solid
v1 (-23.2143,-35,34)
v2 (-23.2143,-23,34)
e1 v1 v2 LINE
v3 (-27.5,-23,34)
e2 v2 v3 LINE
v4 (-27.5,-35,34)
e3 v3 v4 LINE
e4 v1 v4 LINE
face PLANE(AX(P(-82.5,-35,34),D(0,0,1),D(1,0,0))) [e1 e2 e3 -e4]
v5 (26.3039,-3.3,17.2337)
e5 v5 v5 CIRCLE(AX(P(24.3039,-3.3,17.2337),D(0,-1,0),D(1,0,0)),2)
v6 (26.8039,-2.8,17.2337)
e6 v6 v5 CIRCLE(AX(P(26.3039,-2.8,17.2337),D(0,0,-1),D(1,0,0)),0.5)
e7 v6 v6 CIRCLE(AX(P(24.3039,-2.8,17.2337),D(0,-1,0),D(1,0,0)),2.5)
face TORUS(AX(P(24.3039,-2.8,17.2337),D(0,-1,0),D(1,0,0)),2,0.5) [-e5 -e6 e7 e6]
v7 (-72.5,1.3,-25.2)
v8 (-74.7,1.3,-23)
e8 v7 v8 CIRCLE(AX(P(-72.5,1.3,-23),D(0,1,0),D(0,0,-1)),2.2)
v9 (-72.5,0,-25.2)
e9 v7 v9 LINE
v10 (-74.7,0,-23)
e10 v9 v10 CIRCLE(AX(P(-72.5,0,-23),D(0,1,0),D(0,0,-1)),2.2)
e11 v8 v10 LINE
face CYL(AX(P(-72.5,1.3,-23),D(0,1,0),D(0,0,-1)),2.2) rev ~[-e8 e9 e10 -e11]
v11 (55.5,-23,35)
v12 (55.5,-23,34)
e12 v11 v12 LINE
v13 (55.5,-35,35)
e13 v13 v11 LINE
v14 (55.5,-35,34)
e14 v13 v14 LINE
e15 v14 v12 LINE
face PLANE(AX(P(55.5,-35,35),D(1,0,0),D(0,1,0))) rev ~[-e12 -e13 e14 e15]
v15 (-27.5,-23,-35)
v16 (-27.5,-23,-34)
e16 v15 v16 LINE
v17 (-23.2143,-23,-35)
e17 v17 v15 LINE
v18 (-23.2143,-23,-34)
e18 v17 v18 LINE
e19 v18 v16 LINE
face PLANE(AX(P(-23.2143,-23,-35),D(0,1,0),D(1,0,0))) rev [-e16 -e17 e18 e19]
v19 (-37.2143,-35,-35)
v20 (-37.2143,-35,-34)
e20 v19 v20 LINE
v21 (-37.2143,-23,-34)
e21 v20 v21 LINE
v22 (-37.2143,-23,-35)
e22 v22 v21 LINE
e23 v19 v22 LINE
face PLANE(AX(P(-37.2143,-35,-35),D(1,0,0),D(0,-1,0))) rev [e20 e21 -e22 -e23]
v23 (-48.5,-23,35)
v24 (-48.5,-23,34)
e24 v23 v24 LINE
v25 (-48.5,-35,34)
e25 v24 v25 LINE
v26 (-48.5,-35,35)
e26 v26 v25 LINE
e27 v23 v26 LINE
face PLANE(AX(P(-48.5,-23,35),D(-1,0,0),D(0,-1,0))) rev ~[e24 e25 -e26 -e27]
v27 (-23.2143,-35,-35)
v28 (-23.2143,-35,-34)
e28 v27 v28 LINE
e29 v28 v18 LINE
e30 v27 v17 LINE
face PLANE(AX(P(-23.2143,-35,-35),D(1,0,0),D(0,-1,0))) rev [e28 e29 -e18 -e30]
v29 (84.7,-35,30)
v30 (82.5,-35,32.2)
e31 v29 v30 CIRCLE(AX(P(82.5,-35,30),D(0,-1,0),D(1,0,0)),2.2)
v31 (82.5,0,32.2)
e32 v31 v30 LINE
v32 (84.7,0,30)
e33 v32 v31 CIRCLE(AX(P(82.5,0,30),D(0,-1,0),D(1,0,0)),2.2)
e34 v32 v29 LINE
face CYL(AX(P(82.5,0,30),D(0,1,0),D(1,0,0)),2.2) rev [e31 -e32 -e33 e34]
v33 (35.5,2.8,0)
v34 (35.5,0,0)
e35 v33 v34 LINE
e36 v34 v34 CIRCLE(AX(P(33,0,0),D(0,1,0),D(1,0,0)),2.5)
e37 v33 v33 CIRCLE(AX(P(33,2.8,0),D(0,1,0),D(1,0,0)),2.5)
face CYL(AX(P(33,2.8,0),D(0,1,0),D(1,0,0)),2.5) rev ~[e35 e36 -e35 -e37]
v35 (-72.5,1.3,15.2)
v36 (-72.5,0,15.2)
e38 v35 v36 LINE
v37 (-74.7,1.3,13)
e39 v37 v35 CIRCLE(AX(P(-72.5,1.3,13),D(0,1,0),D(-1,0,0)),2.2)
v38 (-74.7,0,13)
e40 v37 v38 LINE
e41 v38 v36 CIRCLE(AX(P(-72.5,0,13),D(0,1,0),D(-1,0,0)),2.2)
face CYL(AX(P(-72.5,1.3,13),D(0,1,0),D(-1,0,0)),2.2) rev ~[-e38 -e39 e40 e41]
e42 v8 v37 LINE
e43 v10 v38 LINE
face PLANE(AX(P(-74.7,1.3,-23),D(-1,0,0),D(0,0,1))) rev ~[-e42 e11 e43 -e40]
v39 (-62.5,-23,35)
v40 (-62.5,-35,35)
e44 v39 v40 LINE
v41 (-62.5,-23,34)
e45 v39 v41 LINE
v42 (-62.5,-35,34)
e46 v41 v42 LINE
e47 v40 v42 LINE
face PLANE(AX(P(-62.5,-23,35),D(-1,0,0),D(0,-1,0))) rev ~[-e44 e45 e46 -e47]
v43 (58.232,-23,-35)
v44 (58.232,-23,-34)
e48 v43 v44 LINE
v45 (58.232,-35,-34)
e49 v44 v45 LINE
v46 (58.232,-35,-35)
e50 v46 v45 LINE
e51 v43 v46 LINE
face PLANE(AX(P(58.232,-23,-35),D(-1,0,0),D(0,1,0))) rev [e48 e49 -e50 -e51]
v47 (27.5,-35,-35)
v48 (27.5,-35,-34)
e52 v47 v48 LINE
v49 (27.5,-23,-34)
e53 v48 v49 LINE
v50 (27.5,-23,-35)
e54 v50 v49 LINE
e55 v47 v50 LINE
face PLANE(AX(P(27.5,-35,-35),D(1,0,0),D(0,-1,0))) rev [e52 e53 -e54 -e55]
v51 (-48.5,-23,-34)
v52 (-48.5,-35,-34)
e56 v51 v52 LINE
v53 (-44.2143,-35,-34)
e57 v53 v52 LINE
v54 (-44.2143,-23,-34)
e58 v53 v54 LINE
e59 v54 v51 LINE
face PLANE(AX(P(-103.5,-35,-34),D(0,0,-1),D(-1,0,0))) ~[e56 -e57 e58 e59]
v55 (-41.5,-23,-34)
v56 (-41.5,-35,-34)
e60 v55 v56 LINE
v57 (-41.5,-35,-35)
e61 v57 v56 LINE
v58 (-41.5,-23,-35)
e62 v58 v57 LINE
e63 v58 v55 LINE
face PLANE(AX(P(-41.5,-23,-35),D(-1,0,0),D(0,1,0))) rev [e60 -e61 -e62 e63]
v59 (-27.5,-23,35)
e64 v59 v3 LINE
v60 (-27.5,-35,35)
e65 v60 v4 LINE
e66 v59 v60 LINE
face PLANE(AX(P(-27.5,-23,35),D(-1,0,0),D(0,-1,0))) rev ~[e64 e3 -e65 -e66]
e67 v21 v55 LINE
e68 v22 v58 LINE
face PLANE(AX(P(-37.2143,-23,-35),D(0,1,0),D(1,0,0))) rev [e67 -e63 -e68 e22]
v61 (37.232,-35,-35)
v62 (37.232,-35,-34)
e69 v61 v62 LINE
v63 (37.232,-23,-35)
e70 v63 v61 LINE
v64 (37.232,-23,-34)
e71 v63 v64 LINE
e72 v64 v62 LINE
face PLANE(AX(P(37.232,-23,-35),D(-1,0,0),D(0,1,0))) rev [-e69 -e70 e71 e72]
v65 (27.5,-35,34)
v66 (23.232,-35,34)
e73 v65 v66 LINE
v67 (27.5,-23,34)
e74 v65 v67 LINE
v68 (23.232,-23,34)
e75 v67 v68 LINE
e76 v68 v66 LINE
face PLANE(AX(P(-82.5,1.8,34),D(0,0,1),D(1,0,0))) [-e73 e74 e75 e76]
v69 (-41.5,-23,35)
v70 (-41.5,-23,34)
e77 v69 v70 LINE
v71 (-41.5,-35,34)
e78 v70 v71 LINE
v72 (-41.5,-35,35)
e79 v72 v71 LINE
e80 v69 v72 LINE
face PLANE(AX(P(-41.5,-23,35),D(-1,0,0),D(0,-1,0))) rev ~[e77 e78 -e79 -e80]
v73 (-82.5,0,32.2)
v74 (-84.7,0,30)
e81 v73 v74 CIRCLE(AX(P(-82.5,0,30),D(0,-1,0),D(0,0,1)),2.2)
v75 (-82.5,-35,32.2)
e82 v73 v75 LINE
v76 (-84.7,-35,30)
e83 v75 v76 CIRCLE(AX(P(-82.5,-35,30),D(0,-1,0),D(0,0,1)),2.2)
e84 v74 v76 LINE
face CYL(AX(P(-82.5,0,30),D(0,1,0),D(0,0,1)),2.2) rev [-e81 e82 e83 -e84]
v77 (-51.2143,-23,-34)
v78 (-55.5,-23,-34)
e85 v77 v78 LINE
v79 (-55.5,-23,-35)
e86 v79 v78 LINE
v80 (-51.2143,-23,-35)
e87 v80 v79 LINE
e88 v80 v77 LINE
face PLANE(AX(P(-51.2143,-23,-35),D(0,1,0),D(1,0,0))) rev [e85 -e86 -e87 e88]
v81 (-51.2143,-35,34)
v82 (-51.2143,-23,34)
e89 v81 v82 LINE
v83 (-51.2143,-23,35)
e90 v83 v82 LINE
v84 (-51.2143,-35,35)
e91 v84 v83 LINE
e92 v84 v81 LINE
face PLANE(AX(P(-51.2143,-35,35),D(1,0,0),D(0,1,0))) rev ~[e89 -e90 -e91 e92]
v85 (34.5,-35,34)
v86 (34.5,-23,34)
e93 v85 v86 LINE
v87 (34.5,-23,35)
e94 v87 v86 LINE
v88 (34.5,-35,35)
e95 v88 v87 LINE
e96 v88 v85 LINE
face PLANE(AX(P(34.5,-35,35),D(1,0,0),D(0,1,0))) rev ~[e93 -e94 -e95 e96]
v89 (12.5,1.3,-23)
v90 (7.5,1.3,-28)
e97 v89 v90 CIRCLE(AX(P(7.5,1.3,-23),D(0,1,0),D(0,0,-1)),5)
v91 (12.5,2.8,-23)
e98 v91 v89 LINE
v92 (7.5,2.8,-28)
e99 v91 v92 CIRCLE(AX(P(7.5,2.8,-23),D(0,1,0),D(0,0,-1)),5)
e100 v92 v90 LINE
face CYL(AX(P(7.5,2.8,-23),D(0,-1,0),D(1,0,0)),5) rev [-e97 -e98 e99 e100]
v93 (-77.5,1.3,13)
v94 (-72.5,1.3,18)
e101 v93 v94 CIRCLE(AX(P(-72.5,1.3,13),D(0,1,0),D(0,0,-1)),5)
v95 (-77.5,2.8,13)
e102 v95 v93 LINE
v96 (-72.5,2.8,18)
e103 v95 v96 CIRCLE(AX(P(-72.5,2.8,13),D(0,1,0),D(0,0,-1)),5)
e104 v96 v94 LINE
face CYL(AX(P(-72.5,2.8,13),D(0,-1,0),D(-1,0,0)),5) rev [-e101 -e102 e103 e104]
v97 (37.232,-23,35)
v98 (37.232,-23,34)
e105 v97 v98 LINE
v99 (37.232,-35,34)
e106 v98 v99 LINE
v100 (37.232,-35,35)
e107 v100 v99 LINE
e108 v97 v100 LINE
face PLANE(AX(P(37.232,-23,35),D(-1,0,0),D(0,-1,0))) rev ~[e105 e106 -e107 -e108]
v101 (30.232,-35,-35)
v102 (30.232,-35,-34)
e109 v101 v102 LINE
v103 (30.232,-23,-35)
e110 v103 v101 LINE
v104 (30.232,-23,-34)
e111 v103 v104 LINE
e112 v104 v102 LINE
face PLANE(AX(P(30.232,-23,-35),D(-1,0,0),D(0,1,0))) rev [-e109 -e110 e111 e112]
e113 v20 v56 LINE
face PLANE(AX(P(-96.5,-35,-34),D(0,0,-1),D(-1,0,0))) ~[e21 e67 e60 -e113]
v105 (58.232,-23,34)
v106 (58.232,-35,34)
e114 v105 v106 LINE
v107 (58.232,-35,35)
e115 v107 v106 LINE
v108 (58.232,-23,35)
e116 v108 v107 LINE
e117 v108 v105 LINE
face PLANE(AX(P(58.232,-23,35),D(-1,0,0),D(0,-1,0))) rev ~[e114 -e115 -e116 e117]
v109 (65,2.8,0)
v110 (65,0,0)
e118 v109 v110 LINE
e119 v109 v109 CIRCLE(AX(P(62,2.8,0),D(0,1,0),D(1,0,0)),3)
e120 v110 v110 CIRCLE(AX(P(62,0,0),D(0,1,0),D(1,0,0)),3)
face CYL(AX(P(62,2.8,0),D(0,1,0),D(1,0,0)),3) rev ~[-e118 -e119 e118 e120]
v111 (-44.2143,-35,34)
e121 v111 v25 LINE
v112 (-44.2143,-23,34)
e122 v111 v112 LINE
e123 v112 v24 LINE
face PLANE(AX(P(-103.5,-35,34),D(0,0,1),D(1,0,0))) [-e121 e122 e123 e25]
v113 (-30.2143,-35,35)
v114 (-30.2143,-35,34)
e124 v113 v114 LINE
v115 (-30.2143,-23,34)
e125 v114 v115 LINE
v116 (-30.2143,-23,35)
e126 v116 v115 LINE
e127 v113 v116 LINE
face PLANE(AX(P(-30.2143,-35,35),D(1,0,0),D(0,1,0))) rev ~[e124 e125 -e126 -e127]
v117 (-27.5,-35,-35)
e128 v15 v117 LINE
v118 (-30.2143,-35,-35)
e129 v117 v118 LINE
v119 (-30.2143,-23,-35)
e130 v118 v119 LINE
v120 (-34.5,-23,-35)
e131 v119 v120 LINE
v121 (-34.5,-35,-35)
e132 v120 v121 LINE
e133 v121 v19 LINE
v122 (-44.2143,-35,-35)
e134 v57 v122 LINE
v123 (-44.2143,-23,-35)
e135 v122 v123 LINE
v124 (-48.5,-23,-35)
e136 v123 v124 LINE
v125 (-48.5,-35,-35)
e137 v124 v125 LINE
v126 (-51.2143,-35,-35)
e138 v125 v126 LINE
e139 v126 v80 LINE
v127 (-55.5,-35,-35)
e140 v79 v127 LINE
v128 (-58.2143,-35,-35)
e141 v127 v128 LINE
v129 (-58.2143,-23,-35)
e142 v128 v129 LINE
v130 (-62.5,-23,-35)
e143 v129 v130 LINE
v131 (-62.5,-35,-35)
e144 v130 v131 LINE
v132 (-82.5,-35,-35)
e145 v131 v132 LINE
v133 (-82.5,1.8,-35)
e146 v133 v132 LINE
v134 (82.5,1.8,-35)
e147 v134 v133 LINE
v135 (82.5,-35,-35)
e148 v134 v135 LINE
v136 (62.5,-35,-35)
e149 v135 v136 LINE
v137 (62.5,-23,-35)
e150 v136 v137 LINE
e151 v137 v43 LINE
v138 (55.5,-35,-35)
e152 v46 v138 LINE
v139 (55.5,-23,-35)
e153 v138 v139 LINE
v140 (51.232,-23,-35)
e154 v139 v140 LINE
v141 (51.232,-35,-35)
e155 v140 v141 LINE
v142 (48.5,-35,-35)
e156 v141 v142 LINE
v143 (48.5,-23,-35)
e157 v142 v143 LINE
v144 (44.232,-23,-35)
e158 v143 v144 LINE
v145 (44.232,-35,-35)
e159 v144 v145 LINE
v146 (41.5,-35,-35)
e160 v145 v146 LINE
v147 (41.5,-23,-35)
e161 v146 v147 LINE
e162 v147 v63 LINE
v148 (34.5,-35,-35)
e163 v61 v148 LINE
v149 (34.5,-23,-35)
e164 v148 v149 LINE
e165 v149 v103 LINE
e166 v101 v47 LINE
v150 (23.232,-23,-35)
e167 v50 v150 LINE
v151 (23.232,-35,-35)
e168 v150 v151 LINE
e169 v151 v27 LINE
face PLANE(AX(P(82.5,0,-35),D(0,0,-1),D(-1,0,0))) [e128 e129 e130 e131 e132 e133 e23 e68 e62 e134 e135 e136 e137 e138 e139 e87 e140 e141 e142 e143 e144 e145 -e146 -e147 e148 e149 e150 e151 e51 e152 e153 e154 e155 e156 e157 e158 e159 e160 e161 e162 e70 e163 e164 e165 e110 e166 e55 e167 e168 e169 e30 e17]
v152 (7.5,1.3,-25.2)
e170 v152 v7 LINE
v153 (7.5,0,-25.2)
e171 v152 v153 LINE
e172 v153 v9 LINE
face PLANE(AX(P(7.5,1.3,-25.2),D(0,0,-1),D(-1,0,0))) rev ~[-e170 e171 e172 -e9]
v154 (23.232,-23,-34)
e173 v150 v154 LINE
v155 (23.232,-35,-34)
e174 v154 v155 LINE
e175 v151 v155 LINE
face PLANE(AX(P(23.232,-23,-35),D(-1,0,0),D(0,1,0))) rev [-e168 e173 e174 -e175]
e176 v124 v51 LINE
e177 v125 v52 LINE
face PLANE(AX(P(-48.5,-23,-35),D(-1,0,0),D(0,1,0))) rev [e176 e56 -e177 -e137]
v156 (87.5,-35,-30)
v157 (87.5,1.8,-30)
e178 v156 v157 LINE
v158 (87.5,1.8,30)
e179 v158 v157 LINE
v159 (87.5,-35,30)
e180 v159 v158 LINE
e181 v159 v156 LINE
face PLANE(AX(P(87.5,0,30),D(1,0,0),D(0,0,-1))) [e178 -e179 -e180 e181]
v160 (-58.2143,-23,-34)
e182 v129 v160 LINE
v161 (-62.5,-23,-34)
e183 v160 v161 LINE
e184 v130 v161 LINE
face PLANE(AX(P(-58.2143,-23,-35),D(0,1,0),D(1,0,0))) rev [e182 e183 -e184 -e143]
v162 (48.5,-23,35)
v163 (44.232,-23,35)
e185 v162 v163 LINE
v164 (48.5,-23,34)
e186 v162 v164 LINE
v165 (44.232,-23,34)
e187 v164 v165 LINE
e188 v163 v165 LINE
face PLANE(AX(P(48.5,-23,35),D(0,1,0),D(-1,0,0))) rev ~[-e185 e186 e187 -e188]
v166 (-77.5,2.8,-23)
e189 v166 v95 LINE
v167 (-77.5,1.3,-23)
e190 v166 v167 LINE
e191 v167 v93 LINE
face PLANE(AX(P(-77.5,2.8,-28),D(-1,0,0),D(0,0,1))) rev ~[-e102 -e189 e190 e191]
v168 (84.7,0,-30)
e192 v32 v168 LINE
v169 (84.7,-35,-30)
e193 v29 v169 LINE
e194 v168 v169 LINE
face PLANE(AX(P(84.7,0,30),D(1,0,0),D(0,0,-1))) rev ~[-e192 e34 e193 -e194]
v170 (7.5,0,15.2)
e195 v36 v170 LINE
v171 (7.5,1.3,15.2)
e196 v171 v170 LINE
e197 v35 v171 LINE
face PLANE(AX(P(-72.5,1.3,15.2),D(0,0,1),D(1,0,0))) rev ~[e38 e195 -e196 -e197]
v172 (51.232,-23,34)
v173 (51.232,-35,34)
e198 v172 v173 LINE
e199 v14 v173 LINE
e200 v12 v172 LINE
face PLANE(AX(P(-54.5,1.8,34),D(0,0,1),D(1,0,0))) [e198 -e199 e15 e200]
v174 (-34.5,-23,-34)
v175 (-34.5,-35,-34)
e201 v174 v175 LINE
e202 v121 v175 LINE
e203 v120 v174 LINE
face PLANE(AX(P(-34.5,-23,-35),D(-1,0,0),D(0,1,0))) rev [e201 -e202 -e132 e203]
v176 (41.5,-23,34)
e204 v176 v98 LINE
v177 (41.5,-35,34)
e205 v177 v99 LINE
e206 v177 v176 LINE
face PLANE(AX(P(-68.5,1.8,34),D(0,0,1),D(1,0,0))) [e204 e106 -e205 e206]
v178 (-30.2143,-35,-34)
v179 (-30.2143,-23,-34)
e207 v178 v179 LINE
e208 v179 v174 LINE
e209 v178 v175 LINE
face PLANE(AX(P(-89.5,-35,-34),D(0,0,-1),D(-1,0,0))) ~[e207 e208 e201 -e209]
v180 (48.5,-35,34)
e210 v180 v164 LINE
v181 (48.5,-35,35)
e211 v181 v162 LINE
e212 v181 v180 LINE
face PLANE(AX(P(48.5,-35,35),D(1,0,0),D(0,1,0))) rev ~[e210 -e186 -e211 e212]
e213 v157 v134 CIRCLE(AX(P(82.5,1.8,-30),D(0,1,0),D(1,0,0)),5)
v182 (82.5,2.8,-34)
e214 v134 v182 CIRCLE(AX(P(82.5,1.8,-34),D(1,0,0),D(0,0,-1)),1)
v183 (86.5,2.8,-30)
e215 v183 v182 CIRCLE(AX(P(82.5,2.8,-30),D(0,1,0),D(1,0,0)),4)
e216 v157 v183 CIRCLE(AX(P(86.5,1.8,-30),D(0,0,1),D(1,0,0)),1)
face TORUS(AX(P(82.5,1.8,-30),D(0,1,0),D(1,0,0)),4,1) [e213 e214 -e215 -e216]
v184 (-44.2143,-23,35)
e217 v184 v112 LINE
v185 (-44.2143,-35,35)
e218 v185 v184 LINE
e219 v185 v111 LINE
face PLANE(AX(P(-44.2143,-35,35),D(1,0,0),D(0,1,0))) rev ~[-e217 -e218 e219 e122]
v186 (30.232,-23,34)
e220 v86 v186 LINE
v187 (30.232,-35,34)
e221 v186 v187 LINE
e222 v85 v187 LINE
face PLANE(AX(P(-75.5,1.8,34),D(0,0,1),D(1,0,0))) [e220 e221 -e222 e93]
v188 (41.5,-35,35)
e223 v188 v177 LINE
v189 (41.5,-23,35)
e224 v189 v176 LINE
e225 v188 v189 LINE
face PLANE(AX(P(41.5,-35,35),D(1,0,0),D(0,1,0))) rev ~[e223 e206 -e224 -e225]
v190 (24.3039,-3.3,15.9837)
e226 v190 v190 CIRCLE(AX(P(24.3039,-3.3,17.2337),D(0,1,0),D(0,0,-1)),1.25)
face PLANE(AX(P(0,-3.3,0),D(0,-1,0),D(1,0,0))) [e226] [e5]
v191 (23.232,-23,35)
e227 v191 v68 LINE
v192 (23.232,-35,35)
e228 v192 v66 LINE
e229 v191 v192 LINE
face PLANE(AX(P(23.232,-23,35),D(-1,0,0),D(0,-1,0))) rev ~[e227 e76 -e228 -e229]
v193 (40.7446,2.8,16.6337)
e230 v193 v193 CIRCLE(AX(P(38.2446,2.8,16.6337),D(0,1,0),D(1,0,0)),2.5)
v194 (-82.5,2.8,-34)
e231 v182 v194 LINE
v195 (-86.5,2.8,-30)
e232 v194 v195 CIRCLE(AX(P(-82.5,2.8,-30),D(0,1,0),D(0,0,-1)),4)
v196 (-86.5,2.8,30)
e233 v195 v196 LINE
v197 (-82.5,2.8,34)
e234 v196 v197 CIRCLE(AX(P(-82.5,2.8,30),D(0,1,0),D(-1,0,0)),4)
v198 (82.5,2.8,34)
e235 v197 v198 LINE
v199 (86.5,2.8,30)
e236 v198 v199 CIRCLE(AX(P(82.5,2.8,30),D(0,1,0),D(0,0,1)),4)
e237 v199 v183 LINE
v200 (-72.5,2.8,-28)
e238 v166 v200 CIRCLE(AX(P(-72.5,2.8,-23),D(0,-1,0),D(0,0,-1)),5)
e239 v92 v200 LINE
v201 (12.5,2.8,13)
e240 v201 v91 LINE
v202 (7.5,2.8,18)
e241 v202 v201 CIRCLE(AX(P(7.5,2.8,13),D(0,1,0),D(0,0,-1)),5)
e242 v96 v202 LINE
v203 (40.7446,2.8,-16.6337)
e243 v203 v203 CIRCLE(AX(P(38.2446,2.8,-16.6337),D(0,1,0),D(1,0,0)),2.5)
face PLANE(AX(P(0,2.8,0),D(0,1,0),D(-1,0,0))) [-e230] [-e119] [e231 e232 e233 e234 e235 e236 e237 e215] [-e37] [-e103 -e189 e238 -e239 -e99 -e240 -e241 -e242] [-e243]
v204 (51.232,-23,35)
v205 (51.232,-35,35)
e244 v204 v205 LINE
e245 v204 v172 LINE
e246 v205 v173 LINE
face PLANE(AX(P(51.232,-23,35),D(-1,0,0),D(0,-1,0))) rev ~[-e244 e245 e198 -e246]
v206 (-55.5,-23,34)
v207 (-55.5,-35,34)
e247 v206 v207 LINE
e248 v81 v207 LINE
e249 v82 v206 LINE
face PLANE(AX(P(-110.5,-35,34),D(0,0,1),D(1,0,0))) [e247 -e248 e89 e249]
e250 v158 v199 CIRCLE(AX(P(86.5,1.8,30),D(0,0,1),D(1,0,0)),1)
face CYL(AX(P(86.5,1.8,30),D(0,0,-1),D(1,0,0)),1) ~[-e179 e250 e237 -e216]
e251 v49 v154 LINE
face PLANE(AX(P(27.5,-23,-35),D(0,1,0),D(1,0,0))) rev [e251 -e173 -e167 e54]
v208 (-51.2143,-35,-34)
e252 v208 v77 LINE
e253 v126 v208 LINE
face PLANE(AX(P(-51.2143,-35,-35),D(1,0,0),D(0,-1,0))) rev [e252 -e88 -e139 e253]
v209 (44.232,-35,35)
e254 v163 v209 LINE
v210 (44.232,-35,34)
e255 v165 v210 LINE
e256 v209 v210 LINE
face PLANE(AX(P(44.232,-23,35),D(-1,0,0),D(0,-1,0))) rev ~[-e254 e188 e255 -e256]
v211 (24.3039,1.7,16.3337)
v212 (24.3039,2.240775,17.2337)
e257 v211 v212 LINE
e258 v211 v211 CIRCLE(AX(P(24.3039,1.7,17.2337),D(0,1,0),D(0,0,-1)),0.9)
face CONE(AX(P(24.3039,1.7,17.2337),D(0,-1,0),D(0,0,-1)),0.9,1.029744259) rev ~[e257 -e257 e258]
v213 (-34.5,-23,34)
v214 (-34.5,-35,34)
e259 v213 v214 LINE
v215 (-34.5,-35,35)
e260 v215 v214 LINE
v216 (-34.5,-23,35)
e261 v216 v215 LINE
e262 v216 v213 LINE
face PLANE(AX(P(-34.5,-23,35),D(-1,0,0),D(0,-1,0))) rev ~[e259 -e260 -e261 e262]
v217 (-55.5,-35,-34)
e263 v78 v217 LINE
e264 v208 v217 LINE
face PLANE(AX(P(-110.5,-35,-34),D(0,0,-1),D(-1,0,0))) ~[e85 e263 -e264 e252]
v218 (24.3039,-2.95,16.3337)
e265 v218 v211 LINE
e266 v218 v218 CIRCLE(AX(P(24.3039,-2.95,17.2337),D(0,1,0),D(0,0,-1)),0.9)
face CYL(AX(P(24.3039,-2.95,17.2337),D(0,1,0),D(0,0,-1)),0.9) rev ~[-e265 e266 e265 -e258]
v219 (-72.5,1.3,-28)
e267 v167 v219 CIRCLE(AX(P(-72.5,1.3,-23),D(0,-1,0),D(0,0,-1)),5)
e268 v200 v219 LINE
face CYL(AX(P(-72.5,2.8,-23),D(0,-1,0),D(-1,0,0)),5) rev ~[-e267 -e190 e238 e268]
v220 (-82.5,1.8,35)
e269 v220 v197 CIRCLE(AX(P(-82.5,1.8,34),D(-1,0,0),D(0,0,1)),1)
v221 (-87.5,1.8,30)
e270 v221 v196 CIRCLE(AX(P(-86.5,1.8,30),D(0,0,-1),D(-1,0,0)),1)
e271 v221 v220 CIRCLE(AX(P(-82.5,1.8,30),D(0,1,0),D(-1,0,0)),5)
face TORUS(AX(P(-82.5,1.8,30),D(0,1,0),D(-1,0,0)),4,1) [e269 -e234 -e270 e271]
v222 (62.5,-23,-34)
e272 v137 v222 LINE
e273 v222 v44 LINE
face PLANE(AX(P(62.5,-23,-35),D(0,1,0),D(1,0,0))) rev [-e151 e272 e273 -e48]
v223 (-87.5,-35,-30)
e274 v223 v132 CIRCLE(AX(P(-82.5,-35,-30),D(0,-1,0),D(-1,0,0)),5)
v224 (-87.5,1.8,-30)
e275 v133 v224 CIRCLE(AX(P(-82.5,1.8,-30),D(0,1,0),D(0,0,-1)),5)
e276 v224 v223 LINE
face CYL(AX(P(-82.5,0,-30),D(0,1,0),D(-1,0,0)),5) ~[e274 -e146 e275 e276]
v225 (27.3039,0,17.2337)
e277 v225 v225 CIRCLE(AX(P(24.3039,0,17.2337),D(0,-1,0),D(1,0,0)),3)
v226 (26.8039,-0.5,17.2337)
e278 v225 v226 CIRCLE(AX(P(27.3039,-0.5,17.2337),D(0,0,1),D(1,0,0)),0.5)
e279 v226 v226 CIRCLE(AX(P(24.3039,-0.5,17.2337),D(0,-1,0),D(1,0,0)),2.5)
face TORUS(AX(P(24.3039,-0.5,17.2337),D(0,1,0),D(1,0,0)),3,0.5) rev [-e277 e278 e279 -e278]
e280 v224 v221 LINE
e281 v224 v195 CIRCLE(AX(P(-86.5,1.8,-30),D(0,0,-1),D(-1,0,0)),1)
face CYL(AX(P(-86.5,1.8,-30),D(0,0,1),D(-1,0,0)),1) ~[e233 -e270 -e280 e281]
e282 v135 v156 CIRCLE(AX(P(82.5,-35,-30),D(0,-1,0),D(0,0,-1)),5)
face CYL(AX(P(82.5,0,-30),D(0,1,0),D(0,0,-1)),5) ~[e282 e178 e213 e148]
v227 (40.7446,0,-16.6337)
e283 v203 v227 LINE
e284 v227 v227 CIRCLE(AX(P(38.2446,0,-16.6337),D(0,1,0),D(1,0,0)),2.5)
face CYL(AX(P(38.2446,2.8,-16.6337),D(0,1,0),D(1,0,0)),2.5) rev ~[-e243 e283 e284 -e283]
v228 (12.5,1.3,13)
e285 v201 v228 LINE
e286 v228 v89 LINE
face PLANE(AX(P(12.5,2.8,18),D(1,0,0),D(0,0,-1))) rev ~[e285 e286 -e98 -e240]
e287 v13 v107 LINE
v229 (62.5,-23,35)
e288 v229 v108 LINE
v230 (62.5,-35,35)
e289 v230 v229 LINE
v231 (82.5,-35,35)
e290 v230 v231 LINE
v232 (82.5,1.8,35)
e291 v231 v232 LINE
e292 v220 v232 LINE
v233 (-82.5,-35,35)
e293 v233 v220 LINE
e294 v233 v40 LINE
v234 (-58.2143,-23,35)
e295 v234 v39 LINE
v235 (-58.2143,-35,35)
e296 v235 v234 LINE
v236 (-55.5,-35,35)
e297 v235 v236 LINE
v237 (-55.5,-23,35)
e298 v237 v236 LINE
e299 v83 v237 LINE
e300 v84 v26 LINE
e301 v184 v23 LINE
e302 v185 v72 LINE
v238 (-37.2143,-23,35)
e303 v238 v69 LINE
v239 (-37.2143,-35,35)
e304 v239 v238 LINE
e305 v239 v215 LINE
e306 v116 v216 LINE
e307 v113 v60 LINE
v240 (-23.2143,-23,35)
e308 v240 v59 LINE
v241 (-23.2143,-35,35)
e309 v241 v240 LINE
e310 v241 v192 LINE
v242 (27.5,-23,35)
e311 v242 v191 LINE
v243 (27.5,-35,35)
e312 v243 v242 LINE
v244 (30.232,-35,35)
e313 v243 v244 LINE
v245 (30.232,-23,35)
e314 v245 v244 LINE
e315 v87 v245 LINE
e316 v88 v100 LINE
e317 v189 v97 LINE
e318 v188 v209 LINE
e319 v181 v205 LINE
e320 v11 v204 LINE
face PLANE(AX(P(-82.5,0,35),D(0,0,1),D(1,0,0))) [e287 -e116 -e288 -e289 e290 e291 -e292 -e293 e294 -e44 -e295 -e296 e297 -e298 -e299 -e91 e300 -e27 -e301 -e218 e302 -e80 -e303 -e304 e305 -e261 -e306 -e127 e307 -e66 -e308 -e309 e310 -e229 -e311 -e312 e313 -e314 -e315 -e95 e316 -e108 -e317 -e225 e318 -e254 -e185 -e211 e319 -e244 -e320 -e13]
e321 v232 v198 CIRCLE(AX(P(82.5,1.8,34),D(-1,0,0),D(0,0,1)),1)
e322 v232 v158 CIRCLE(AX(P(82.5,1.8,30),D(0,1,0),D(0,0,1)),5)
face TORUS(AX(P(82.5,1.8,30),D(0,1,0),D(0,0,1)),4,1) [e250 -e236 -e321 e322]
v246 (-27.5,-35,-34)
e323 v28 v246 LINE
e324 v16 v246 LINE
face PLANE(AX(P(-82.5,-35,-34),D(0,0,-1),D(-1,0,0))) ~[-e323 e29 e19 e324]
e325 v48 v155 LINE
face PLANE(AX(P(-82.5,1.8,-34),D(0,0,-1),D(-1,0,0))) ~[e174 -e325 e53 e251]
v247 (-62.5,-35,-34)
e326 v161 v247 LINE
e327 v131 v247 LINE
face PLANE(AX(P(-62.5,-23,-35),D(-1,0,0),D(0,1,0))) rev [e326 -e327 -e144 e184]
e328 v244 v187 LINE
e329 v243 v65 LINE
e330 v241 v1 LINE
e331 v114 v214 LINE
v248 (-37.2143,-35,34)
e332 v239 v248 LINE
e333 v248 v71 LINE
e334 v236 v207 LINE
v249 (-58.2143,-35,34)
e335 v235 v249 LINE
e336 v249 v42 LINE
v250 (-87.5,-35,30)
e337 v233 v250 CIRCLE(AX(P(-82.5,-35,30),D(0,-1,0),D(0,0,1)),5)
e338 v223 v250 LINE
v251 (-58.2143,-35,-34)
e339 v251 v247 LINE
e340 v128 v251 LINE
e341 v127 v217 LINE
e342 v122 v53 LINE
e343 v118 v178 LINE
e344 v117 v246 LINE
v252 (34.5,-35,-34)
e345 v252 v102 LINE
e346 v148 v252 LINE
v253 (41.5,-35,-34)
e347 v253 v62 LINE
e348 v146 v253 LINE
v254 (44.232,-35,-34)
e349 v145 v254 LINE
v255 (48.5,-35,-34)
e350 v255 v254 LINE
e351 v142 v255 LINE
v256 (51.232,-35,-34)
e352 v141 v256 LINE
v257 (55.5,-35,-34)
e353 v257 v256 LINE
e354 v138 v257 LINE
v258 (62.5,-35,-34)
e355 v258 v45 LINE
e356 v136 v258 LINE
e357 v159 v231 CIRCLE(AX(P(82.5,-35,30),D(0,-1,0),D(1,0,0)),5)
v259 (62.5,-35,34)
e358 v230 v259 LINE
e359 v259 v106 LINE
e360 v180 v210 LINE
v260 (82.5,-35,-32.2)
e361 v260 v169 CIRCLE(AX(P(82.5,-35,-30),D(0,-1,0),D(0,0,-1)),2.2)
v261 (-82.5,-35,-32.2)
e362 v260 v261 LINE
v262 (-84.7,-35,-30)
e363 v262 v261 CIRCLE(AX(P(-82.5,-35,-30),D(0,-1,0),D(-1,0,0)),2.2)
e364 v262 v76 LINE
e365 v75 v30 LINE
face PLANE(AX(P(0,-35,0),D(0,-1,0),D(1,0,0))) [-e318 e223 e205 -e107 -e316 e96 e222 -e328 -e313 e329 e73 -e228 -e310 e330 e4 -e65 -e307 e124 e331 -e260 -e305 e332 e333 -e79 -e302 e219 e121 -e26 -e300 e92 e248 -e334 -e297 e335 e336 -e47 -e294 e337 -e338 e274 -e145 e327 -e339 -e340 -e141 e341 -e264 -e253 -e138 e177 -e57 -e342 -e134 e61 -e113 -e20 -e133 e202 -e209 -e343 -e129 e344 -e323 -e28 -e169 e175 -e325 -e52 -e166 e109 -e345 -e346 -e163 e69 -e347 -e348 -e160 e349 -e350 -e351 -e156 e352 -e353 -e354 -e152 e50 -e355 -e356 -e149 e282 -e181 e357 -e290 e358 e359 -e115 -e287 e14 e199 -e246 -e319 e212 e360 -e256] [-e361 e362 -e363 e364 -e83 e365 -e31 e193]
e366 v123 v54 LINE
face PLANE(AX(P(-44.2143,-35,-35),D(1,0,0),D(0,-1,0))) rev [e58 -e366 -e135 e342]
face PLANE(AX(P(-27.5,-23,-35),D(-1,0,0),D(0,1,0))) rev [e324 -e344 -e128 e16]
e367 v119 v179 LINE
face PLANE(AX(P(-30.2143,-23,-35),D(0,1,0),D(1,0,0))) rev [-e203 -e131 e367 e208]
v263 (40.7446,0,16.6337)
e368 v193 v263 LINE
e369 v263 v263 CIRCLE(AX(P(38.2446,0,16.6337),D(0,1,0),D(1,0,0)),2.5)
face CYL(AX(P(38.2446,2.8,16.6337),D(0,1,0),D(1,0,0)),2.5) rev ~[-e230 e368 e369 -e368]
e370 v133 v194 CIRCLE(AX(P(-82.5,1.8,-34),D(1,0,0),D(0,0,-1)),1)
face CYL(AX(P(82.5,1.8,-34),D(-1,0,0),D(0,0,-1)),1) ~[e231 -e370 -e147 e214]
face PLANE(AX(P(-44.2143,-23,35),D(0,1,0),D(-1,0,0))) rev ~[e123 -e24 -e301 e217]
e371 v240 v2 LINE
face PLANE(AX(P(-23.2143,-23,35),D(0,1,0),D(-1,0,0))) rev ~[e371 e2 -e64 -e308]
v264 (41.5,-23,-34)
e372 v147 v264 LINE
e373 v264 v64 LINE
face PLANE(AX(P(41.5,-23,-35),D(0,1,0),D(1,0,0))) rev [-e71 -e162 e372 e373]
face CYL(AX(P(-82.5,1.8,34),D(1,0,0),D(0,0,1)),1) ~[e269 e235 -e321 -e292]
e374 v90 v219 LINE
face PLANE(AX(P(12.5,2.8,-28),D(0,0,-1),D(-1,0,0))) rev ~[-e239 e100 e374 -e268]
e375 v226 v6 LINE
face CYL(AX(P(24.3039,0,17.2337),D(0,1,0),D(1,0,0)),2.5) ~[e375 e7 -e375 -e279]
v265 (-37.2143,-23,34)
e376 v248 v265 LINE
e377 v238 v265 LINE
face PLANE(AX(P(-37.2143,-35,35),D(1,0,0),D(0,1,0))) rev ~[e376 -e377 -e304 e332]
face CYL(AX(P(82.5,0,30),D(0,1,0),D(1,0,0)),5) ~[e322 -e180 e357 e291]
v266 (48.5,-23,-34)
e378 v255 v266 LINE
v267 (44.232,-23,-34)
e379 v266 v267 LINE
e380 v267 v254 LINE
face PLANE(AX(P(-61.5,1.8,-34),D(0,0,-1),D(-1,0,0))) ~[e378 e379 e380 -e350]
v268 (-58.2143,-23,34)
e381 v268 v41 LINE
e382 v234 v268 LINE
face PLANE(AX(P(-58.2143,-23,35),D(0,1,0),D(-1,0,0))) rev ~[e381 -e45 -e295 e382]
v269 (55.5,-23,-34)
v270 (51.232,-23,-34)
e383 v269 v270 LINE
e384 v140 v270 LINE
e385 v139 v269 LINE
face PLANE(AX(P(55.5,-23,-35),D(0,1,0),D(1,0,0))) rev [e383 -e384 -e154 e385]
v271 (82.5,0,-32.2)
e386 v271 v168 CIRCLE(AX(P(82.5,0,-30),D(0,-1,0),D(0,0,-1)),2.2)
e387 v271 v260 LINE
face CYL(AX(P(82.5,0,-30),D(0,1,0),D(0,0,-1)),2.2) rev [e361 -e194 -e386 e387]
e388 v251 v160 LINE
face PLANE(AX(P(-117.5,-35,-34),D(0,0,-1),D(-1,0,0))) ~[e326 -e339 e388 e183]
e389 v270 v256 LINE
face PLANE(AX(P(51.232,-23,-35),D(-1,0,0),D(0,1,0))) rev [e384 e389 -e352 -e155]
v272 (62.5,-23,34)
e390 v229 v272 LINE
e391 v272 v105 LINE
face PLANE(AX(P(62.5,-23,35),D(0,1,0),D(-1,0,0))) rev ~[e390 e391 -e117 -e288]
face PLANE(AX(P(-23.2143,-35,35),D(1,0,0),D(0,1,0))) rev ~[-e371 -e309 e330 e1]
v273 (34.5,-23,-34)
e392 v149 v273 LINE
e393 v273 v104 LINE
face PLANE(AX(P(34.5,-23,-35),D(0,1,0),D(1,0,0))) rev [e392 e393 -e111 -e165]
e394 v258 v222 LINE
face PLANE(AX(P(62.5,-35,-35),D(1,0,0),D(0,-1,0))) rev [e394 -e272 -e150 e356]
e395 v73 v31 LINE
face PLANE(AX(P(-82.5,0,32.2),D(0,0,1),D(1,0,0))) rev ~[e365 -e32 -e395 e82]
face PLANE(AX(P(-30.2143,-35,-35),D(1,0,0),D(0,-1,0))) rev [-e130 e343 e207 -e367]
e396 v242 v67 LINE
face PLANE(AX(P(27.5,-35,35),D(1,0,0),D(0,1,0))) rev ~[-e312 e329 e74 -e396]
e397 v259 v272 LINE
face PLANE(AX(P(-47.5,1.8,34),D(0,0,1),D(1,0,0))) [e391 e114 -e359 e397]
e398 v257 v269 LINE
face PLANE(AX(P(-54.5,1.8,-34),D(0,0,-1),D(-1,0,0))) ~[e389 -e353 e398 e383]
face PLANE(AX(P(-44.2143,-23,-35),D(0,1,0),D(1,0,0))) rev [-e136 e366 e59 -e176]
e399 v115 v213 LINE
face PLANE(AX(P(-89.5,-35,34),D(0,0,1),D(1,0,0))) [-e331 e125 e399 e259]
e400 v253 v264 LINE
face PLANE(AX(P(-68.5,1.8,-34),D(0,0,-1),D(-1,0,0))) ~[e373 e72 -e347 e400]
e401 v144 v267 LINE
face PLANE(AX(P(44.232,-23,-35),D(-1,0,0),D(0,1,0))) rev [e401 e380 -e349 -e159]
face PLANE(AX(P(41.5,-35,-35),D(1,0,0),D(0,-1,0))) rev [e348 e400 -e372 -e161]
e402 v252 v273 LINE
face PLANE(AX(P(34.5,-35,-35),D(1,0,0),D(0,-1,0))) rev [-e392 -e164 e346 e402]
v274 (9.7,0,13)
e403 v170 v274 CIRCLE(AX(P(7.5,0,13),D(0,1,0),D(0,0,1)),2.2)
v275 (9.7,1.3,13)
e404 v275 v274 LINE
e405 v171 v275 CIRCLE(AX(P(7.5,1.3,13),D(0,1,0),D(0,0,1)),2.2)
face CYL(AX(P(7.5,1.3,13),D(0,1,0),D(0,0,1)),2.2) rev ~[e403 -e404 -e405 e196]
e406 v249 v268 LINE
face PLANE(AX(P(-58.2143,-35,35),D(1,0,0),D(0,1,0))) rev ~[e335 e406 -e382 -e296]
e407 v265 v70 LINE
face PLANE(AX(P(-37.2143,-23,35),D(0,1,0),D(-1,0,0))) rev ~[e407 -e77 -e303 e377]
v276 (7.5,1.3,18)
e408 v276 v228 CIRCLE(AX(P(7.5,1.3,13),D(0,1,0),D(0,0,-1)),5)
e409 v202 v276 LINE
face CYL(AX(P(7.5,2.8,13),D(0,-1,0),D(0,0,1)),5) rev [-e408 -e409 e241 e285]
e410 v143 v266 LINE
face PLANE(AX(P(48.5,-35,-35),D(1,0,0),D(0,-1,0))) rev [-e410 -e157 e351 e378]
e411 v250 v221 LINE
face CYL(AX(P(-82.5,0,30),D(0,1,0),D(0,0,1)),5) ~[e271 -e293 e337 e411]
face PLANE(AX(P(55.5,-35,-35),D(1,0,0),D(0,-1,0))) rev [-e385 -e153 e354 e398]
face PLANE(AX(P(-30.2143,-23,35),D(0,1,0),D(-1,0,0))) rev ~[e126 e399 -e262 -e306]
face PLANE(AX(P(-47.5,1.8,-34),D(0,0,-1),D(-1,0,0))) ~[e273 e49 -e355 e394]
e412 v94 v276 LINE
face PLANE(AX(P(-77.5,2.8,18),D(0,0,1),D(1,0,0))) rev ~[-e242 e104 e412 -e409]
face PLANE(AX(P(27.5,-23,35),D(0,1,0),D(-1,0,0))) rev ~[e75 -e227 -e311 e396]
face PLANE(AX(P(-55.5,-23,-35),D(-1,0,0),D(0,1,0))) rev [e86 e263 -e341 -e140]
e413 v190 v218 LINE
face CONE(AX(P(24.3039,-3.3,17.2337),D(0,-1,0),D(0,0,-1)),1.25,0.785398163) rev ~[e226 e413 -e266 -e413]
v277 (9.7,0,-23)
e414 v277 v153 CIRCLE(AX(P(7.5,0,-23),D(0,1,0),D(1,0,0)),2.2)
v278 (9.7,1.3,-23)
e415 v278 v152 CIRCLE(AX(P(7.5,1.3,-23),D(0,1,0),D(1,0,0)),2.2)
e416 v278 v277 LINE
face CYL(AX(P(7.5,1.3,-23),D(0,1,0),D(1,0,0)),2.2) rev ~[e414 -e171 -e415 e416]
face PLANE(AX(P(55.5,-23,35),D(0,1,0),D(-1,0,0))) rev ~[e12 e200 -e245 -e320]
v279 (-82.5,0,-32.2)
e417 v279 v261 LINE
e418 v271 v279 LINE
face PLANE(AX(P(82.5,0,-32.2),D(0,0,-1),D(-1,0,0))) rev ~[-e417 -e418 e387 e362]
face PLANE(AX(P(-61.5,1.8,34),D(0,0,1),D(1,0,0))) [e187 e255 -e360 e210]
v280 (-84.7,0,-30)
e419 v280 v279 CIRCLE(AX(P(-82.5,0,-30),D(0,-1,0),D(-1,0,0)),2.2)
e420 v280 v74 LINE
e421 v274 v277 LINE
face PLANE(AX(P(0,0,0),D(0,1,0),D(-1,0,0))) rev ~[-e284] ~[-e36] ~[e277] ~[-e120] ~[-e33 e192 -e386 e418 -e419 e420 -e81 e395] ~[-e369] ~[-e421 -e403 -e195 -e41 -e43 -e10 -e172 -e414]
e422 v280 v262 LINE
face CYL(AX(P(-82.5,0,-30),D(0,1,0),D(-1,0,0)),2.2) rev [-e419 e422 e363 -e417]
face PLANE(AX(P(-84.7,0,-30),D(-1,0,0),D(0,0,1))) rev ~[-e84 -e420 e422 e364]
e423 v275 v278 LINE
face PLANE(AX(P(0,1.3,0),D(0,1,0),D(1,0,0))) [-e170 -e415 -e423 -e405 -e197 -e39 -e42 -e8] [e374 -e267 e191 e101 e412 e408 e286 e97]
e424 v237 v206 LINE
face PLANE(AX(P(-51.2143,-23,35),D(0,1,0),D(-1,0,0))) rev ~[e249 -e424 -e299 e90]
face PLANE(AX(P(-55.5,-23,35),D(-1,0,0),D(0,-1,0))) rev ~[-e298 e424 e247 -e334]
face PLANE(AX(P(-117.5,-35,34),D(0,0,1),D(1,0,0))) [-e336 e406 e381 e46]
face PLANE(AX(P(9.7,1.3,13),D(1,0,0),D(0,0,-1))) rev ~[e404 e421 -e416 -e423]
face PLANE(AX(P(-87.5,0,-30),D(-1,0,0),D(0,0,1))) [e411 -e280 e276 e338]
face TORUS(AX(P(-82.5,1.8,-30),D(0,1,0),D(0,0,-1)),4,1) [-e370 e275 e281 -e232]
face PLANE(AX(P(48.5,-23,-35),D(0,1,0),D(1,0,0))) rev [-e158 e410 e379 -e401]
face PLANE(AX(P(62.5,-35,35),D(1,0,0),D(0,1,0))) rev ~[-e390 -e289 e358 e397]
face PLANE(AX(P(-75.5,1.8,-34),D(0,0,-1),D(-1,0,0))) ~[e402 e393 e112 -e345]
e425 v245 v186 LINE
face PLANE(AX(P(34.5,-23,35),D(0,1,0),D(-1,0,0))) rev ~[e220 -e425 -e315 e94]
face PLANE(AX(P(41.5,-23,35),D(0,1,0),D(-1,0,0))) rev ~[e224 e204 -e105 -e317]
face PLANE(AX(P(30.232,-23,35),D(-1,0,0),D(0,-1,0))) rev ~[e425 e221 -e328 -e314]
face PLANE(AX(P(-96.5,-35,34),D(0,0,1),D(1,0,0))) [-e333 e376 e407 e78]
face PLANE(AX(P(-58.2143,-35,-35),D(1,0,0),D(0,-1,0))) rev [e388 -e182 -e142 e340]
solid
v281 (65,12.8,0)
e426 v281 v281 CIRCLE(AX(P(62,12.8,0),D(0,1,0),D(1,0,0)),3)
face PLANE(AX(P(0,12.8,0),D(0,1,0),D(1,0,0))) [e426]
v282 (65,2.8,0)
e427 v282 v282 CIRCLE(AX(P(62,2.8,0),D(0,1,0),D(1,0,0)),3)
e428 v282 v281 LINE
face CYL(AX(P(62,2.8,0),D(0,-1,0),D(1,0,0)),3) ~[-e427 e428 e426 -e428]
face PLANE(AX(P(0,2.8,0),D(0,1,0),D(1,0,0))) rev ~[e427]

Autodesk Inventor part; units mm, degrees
ref_plane "YZ Plane" through (0, 0, 0) normal (1, 0, 0) x (0, 1, 0)
ref_plane "XZ Plane" through (0, 0, 0) normal (0, 1, 0) x (-1, 0, 0)
ref_plane "XY Plane" through (0, 0, 0) normal (0, 0, 1) x (1, 0, 0)
sketch "Boceto1" plane through (0, 0, 0) normal (0, 1, 0) x (-1, 0, 0)
  line L0 (87.5, 35) -> (-87.5, 35)
  line L1 (-87.5, 35) -> (-87.5, -35)
  line L2 (-87.5, -35) -> (87.5, -35)
  line L3 (87.5, -35) -> (87.5, 35)
  line L4 (87.5, 35) -> (-87.5, -35) construction
  line L5 (-87.5, 35) -> (87.5, -35) construction
  point P0 (0, 0)
  dimension "d0" = 175
  dimension "d1" = 70
extrude "Extrusión1" add sketch "Boceto1" along normal blind 2.8
fillet "Empalme1" radius 5 4 edges at (87.5, 1.4, 35) (87.5, 1.4, -35) (-87.5, 1.4, 35) (-87.5, 1.4, -35)
sketch "Boceto2" plane through (0, 0, 0) normal (0, -1, 0) x (1, 0, 0)
  arc A0 (-87.5, -30) -> (-82.5, -35) centre (-82.5, -30) ccw projected
  line L0 (82.5, -35) -> (-82.5, -35) projected
  arc A1 (82.5, -35) -> (87.5, -30) centre (82.5, -30) ccw projected
  line L1 (87.5, 30) -> (87.5, -30) projected
  arc A2 (87.5, 30) -> (82.5, 35) centre (82.5, 30) ccw projected
  line L2 (-82.5, 35) -> (82.5, 35) projected
  arc A3 (-82.5, 35) -> (-87.5, 30) centre (-82.5, 30) ccw projected
  line L3 (-87.5, -30) -> (-87.5, 30) projected
  arc A4 (84.7, 30) -> (82.5, 32.2) centre (82.5, 30) ccw
  line L4 (84.7, 30) -> (84.7, -30)
  arc A5 (82.5, -32.2) -> (84.7, -30) centre (82.5, -30) ccw
  line L5 (82.5, -32.2) -> (-82.5, -32.2)
  arc A6 (-84.7, -30) -> (-82.5, -32.2) centre (-82.5, -30) ccw
  line L6 (-84.7, -30) -> (-84.7, 30)
  arc A7 (-82.5, 32.2) -> (-84.7, 30) centre (-82.5, 30) ccw
  line L7 (-82.5, 32.2) -> (82.5, 32.2)
  point P0 (0, 0)
  dimension "d5" = 2.8
extrude "Extrusión2" add sketch "Boceto2" along normal blind 35
sketch "Boceto8" plane through (0, 0, 0) normal (0, -1, 0) x (1, 0, 0)
  circle A0 centre (24.3039, 17.2337) radius 2.5
  point P0 (0, 0)
  dimension "d40" = 5
extrude "Extrusión8" add sketch "Boceto8" along normal blind 3.3
fillet "Empalme3" radius 0.5 2 edges at (21.8039, 0, 17.2337) (21.8039, -3.3, 17.2337)
sketch "Boceto11" plane through (24.3039, -3.3, 17.2337) normal (0, -1, 0) x (1, 0, 0)
  circle A0 centre (0, 0) radius 2 projected
  point P0 (-24.3039, -17.2337)
hole "Agujero2" at (24.3039, -3.3, 17.2337) direction (0, 1, 0) diameter 1.8 depth 5 tip angle 118 countersink diameter 2.5 countersink angle 90
fillet "Empalme4" radius 1 8 edges at (-86.0355, 2.8, 33.5355) (0, 2.8, 35) (86.0355, 2.8, 33.5355) (87.5, 2.8, 0) (86.0355, 2.8, -33.5355) (0, 2.8, -35) (-86.0355, 2.8, -33.5355) (-87.5, 2.8, 0)
sketch "Boceto14" plane through (0, 2.8, 0) normal (0, 1, 0) x (1, 0, 0)
  line L0 (-77.5, -18) -> (12.5, -18)
  line L1 (12.5, -18) -> (12.5, 28)
  line L2 (12.5, 28) -> (-77.5, 28)
  line L3 (-77.5, 28) -> (-77.5, -18)
  line L4 (-77.5, -18) -> (12.5, 28) construction
  line L5 (12.5, -18) -> (-77.5, 28) construction
  line L6 (-87.5, 30) -> (-87.5, -30) projected
  line L7 (82.5, -34) -> (-82.5, -34) projected
  point P0 (0, 0)
  point P1 (-32.5, 5)
  dimension "d69" = 90
  dimension "d70" = 46
  dimension "d71" = 55
  dimension "d72" = 16
extrude "Extrusión10" cut sketch "Boceto14" against normal blind 1.5
fillet "Empalme6" radius 5 4 edges at (-77.5, 2.05, -28) (12.5, 2.05, -28) (12.5, 2.05, 18) (-77.5, 2.05, 18)
sketch "Boceto15" plane through (0, 1.3, 0) normal (0, 1, 0) x (1, 0, 0)
  line L0 (12.5, 23) -> (12.5, -13) projected
  arc A0 (7.5, -18) -> (12.5, -13) centre (7.5, -13) ccw projected
  line L1 (7.5, -18) -> (-72.5, -18) projected
  arc A1 (-77.5, -13) -> (-72.5, -18) centre (-72.5, -13) ccw projected
  line L2 (-77.5, -13) -> (-77.5, 23) projected
  arc A2 (-72.5, 28) -> (-77.5, 23) centre (-72.5, 23) ccw projected
  line L3 (-72.5, 28) -> (7.5, 28) projected
  arc A3 (12.5, 23) -> (7.5, 28) centre (7.5, 23) ccw projected
  arc A4 (-86.5, -30) -> (-82.5, -34) centre (-82.5, -30) ccw projected
  line L4 (82.5, -34) -> (-82.5, -34) projected
  arc A5 (82.5, -34) -> (86.5, -30) centre (82.5, -30) ccw projected
  line L5 (86.5, 30) -> (86.5, -30) projected
  arc A6 (86.5, 30) -> (82.5, 34) centre (82.5, 30) ccw projected
  line L6 (-82.5, 34) -> (82.5, 34) projected
  arc A7 (-82.5, 34) -> (-86.5, 30) centre (-82.5, 30) ccw projected
  line L7 (-86.5, -30) -> (-86.5, 30) projected
  line L8 (7.5, 25.2) -> (-72.5, 25.2)
  arc A8 (-72.5, 25.2) -> (-74.7, 23) centre (-72.5, 23) ccw
  line L9 (-74.7, 23) -> (-74.7, -13)
  arc A9 (-74.7, -13) -> (-72.5, -15.2) centre (-72.5, -13) ccw
  line L10 (-72.5, -15.2) -> (7.5, -15.2)
  arc A10 (7.5, -15.2) -> (9.7, -13) centre (7.5, -13) ccw
  line L11 (9.7, -13) -> (9.7, 23)
  arc A11 (9.7, 23) -> (7.5, 25.2) centre (7.5, 23) ccw
  point P0 (0, 0)
  dimension "d76" = 2.8
extrude "Extrusión11" cut sketch "Boceto15" against normal blind 1.5 contours A11 L11 A10 L10 A9 L9 A8 L8
sketch "Boceto16" plane through (-82.5, -35, 35) normal (0, 0, 1) x (1, 0, 0)
  line L0 (0, 36.8) -> (165, 36.8) projected
  line L1 (0, 36.8) -> (0, 0) projected
  line L2 (165, 0) -> (0, 0) projected
  line L3 (165, 36.8) -> (165, 0) projected
  line L4 (55, 0) -> (59.2857, 0)
  line L5 (59.2857, 0) -> (59.2857, 12)
  line L6 (59.2857, 12) -> (55, 12)
  line L7 (55, 12) -> (55, 0)
  line L8 (55, 0) -> (59.2857, 12) construction
  line L9 (59.2857, 0) -> (55, 12) construction
  point P0 (82.5, 35)
  point P1 (57.1429, 6)
  point P2 (57.1429, 0)
extrude "Extrusión12" cut sketch "Boceto16" against normal blind 1 contours L7 L6 L5 L2
sketch "Boceto17" plane through (-82.5, 1.8, 35) normal (0, 0, 1) x (1, 0, 0)
  line L0 (55, -36.8) -> (55, -24.8) projected
  line L1 (55, -24.8) -> (59.2857, -24.8) projected
  line L2 (59.2857, -24.8) -> (59.2857, -36.8) projected
  line L3 (165, -36.8) -> (59.2857, -36.8) projected
  line L4 (165, 0) -> (165, -36.8) projected
  line L5 (0, 0) -> (165, 0) projected
  line L6 (0, 0) -> (0, -36.8) projected
  line L7 (55, -36.8) -> (0, -36.8) projected
  line L8 (105.732, -36.8) -> (110, -36.8)
  line L9 (110, -36.8) -> (110, -24.8)
  line L10 (110, -24.8) -> (105.732, -24.8)
  line L11 (105.732, -24.8) -> (105.732, -36.8)
  line L12 (105.732, -36.8) -> (110, -24.8) construction
  line L13 (110, -36.8) -> (105.732, -24.8) construction
  point P0 (82.5, -1.8)
  point P1 (107.866, -30.8)
  dimension "d83" = 4.268
extrude "Extrusión13" cut sketch "Boceto17" against normal blind 1 contours L11 L10 L9 L3
pattern_linear "Patrón rectangular1" count 6 spacing 7 along (-1, 0, 0) of "Extrusión12"
pattern_linear "Patrón rectangular2" count 6 spacing 7 along (1, 0, 0) of "Extrusión13"
mirror "Simetría1" about plane through (0, 0, 0) normal (0, 0, 1) of "Extrusión12", "Patrón rectangular1", "Extrusión13", "Patrón rectangular2"
sketch "Boceto18" plane through (0, 2.8, 0) normal (0, 1, 0) x (1, 0, 0)
  circle A0 centre (62, 0) radius 3
  circle A1 centre (62, 0) radius 29 construction
  circle A2 centre (33, 0) radius 2.5
  circle A3 centre (38.2446, 16.6337) radius 2.5
  circle A4 centre (38.2446, -16.6337) radius 2.5
  point P0 (0, 0)
  dimension "d92" = 6
  dimension "d95" = 35
  dimension "d97" = 5
  dimension "d98" = 5
  dimension "d99" = 5
extrude "Extrusión14" cut sketch "Boceto18" against normal blind 5
sketch "Boceto19" plane through (0, 2.8, 0) normal (0, 1, 0) x (1, 0, 0)
  circle A0 centre (38.2446, -16.6337) radius 2.5 projected
  circle A1 centre (33, 0) radius 2.5 projected
  circle A2 centre (38.2446, 16.6337) radius 2.5 projected
  circle A3 centre (62, 0) radius 3 projected
  line L0 (12.5, 23) -> (12.5, -13) projected
  arc A4 (7.5, -18) -> (12.5, -13) centre (7.5, -13) ccw projected
  line L1 (7.5, -18) -> (-72.5, -18) projected
  arc A5 (-77.5, -13) -> (-72.5, -18) centre (-72.5, -13) ccw projected
  line L2 (-77.5, -13) -> (-77.5, 23) projected
  arc A6 (-72.5, 28) -> (-77.5, 23) centre (-72.5, 23) ccw projected
  line L3 (-72.5, 28) -> (7.5, 28) projected
  arc A7 (12.5, 23) -> (7.5, 28) centre (7.5, 23) ccw projected
  arc A8 (-86.5, -30) -> (-82.5, -34) centre (-82.5, -30) ccw projected
  line L4 (82.5, -34) -> (-82.5, -34) projected
  arc A9 (82.5, -34) -> (86.5, -30) centre (82.5, -30) ccw projected
  line L5 (86.5, 30) -> (86.5, -30) projected
  arc A10 (86.5, 30) -> (82.5, 34) centre (82.5, 30) ccw projected
  line L6 (-82.5, 34) -> (82.5, 34) projected
  arc A11 (-82.5, 34) -> (-86.5, 30) centre (-82.5, 30) ccw projected
  line L7 (-86.5, -30) -> (-86.5, 30) projected
  circle A12 centre (62, 0) radius 3 projected
  circle A13 centre (62, 0) radius 3
  point P0 (0, 0)
extrude "Extrusión15" add sketch "Boceto19" along normal blind 10 contours A3
properties part number "TAPA SUPEIOR" material "Plástico ABS"
